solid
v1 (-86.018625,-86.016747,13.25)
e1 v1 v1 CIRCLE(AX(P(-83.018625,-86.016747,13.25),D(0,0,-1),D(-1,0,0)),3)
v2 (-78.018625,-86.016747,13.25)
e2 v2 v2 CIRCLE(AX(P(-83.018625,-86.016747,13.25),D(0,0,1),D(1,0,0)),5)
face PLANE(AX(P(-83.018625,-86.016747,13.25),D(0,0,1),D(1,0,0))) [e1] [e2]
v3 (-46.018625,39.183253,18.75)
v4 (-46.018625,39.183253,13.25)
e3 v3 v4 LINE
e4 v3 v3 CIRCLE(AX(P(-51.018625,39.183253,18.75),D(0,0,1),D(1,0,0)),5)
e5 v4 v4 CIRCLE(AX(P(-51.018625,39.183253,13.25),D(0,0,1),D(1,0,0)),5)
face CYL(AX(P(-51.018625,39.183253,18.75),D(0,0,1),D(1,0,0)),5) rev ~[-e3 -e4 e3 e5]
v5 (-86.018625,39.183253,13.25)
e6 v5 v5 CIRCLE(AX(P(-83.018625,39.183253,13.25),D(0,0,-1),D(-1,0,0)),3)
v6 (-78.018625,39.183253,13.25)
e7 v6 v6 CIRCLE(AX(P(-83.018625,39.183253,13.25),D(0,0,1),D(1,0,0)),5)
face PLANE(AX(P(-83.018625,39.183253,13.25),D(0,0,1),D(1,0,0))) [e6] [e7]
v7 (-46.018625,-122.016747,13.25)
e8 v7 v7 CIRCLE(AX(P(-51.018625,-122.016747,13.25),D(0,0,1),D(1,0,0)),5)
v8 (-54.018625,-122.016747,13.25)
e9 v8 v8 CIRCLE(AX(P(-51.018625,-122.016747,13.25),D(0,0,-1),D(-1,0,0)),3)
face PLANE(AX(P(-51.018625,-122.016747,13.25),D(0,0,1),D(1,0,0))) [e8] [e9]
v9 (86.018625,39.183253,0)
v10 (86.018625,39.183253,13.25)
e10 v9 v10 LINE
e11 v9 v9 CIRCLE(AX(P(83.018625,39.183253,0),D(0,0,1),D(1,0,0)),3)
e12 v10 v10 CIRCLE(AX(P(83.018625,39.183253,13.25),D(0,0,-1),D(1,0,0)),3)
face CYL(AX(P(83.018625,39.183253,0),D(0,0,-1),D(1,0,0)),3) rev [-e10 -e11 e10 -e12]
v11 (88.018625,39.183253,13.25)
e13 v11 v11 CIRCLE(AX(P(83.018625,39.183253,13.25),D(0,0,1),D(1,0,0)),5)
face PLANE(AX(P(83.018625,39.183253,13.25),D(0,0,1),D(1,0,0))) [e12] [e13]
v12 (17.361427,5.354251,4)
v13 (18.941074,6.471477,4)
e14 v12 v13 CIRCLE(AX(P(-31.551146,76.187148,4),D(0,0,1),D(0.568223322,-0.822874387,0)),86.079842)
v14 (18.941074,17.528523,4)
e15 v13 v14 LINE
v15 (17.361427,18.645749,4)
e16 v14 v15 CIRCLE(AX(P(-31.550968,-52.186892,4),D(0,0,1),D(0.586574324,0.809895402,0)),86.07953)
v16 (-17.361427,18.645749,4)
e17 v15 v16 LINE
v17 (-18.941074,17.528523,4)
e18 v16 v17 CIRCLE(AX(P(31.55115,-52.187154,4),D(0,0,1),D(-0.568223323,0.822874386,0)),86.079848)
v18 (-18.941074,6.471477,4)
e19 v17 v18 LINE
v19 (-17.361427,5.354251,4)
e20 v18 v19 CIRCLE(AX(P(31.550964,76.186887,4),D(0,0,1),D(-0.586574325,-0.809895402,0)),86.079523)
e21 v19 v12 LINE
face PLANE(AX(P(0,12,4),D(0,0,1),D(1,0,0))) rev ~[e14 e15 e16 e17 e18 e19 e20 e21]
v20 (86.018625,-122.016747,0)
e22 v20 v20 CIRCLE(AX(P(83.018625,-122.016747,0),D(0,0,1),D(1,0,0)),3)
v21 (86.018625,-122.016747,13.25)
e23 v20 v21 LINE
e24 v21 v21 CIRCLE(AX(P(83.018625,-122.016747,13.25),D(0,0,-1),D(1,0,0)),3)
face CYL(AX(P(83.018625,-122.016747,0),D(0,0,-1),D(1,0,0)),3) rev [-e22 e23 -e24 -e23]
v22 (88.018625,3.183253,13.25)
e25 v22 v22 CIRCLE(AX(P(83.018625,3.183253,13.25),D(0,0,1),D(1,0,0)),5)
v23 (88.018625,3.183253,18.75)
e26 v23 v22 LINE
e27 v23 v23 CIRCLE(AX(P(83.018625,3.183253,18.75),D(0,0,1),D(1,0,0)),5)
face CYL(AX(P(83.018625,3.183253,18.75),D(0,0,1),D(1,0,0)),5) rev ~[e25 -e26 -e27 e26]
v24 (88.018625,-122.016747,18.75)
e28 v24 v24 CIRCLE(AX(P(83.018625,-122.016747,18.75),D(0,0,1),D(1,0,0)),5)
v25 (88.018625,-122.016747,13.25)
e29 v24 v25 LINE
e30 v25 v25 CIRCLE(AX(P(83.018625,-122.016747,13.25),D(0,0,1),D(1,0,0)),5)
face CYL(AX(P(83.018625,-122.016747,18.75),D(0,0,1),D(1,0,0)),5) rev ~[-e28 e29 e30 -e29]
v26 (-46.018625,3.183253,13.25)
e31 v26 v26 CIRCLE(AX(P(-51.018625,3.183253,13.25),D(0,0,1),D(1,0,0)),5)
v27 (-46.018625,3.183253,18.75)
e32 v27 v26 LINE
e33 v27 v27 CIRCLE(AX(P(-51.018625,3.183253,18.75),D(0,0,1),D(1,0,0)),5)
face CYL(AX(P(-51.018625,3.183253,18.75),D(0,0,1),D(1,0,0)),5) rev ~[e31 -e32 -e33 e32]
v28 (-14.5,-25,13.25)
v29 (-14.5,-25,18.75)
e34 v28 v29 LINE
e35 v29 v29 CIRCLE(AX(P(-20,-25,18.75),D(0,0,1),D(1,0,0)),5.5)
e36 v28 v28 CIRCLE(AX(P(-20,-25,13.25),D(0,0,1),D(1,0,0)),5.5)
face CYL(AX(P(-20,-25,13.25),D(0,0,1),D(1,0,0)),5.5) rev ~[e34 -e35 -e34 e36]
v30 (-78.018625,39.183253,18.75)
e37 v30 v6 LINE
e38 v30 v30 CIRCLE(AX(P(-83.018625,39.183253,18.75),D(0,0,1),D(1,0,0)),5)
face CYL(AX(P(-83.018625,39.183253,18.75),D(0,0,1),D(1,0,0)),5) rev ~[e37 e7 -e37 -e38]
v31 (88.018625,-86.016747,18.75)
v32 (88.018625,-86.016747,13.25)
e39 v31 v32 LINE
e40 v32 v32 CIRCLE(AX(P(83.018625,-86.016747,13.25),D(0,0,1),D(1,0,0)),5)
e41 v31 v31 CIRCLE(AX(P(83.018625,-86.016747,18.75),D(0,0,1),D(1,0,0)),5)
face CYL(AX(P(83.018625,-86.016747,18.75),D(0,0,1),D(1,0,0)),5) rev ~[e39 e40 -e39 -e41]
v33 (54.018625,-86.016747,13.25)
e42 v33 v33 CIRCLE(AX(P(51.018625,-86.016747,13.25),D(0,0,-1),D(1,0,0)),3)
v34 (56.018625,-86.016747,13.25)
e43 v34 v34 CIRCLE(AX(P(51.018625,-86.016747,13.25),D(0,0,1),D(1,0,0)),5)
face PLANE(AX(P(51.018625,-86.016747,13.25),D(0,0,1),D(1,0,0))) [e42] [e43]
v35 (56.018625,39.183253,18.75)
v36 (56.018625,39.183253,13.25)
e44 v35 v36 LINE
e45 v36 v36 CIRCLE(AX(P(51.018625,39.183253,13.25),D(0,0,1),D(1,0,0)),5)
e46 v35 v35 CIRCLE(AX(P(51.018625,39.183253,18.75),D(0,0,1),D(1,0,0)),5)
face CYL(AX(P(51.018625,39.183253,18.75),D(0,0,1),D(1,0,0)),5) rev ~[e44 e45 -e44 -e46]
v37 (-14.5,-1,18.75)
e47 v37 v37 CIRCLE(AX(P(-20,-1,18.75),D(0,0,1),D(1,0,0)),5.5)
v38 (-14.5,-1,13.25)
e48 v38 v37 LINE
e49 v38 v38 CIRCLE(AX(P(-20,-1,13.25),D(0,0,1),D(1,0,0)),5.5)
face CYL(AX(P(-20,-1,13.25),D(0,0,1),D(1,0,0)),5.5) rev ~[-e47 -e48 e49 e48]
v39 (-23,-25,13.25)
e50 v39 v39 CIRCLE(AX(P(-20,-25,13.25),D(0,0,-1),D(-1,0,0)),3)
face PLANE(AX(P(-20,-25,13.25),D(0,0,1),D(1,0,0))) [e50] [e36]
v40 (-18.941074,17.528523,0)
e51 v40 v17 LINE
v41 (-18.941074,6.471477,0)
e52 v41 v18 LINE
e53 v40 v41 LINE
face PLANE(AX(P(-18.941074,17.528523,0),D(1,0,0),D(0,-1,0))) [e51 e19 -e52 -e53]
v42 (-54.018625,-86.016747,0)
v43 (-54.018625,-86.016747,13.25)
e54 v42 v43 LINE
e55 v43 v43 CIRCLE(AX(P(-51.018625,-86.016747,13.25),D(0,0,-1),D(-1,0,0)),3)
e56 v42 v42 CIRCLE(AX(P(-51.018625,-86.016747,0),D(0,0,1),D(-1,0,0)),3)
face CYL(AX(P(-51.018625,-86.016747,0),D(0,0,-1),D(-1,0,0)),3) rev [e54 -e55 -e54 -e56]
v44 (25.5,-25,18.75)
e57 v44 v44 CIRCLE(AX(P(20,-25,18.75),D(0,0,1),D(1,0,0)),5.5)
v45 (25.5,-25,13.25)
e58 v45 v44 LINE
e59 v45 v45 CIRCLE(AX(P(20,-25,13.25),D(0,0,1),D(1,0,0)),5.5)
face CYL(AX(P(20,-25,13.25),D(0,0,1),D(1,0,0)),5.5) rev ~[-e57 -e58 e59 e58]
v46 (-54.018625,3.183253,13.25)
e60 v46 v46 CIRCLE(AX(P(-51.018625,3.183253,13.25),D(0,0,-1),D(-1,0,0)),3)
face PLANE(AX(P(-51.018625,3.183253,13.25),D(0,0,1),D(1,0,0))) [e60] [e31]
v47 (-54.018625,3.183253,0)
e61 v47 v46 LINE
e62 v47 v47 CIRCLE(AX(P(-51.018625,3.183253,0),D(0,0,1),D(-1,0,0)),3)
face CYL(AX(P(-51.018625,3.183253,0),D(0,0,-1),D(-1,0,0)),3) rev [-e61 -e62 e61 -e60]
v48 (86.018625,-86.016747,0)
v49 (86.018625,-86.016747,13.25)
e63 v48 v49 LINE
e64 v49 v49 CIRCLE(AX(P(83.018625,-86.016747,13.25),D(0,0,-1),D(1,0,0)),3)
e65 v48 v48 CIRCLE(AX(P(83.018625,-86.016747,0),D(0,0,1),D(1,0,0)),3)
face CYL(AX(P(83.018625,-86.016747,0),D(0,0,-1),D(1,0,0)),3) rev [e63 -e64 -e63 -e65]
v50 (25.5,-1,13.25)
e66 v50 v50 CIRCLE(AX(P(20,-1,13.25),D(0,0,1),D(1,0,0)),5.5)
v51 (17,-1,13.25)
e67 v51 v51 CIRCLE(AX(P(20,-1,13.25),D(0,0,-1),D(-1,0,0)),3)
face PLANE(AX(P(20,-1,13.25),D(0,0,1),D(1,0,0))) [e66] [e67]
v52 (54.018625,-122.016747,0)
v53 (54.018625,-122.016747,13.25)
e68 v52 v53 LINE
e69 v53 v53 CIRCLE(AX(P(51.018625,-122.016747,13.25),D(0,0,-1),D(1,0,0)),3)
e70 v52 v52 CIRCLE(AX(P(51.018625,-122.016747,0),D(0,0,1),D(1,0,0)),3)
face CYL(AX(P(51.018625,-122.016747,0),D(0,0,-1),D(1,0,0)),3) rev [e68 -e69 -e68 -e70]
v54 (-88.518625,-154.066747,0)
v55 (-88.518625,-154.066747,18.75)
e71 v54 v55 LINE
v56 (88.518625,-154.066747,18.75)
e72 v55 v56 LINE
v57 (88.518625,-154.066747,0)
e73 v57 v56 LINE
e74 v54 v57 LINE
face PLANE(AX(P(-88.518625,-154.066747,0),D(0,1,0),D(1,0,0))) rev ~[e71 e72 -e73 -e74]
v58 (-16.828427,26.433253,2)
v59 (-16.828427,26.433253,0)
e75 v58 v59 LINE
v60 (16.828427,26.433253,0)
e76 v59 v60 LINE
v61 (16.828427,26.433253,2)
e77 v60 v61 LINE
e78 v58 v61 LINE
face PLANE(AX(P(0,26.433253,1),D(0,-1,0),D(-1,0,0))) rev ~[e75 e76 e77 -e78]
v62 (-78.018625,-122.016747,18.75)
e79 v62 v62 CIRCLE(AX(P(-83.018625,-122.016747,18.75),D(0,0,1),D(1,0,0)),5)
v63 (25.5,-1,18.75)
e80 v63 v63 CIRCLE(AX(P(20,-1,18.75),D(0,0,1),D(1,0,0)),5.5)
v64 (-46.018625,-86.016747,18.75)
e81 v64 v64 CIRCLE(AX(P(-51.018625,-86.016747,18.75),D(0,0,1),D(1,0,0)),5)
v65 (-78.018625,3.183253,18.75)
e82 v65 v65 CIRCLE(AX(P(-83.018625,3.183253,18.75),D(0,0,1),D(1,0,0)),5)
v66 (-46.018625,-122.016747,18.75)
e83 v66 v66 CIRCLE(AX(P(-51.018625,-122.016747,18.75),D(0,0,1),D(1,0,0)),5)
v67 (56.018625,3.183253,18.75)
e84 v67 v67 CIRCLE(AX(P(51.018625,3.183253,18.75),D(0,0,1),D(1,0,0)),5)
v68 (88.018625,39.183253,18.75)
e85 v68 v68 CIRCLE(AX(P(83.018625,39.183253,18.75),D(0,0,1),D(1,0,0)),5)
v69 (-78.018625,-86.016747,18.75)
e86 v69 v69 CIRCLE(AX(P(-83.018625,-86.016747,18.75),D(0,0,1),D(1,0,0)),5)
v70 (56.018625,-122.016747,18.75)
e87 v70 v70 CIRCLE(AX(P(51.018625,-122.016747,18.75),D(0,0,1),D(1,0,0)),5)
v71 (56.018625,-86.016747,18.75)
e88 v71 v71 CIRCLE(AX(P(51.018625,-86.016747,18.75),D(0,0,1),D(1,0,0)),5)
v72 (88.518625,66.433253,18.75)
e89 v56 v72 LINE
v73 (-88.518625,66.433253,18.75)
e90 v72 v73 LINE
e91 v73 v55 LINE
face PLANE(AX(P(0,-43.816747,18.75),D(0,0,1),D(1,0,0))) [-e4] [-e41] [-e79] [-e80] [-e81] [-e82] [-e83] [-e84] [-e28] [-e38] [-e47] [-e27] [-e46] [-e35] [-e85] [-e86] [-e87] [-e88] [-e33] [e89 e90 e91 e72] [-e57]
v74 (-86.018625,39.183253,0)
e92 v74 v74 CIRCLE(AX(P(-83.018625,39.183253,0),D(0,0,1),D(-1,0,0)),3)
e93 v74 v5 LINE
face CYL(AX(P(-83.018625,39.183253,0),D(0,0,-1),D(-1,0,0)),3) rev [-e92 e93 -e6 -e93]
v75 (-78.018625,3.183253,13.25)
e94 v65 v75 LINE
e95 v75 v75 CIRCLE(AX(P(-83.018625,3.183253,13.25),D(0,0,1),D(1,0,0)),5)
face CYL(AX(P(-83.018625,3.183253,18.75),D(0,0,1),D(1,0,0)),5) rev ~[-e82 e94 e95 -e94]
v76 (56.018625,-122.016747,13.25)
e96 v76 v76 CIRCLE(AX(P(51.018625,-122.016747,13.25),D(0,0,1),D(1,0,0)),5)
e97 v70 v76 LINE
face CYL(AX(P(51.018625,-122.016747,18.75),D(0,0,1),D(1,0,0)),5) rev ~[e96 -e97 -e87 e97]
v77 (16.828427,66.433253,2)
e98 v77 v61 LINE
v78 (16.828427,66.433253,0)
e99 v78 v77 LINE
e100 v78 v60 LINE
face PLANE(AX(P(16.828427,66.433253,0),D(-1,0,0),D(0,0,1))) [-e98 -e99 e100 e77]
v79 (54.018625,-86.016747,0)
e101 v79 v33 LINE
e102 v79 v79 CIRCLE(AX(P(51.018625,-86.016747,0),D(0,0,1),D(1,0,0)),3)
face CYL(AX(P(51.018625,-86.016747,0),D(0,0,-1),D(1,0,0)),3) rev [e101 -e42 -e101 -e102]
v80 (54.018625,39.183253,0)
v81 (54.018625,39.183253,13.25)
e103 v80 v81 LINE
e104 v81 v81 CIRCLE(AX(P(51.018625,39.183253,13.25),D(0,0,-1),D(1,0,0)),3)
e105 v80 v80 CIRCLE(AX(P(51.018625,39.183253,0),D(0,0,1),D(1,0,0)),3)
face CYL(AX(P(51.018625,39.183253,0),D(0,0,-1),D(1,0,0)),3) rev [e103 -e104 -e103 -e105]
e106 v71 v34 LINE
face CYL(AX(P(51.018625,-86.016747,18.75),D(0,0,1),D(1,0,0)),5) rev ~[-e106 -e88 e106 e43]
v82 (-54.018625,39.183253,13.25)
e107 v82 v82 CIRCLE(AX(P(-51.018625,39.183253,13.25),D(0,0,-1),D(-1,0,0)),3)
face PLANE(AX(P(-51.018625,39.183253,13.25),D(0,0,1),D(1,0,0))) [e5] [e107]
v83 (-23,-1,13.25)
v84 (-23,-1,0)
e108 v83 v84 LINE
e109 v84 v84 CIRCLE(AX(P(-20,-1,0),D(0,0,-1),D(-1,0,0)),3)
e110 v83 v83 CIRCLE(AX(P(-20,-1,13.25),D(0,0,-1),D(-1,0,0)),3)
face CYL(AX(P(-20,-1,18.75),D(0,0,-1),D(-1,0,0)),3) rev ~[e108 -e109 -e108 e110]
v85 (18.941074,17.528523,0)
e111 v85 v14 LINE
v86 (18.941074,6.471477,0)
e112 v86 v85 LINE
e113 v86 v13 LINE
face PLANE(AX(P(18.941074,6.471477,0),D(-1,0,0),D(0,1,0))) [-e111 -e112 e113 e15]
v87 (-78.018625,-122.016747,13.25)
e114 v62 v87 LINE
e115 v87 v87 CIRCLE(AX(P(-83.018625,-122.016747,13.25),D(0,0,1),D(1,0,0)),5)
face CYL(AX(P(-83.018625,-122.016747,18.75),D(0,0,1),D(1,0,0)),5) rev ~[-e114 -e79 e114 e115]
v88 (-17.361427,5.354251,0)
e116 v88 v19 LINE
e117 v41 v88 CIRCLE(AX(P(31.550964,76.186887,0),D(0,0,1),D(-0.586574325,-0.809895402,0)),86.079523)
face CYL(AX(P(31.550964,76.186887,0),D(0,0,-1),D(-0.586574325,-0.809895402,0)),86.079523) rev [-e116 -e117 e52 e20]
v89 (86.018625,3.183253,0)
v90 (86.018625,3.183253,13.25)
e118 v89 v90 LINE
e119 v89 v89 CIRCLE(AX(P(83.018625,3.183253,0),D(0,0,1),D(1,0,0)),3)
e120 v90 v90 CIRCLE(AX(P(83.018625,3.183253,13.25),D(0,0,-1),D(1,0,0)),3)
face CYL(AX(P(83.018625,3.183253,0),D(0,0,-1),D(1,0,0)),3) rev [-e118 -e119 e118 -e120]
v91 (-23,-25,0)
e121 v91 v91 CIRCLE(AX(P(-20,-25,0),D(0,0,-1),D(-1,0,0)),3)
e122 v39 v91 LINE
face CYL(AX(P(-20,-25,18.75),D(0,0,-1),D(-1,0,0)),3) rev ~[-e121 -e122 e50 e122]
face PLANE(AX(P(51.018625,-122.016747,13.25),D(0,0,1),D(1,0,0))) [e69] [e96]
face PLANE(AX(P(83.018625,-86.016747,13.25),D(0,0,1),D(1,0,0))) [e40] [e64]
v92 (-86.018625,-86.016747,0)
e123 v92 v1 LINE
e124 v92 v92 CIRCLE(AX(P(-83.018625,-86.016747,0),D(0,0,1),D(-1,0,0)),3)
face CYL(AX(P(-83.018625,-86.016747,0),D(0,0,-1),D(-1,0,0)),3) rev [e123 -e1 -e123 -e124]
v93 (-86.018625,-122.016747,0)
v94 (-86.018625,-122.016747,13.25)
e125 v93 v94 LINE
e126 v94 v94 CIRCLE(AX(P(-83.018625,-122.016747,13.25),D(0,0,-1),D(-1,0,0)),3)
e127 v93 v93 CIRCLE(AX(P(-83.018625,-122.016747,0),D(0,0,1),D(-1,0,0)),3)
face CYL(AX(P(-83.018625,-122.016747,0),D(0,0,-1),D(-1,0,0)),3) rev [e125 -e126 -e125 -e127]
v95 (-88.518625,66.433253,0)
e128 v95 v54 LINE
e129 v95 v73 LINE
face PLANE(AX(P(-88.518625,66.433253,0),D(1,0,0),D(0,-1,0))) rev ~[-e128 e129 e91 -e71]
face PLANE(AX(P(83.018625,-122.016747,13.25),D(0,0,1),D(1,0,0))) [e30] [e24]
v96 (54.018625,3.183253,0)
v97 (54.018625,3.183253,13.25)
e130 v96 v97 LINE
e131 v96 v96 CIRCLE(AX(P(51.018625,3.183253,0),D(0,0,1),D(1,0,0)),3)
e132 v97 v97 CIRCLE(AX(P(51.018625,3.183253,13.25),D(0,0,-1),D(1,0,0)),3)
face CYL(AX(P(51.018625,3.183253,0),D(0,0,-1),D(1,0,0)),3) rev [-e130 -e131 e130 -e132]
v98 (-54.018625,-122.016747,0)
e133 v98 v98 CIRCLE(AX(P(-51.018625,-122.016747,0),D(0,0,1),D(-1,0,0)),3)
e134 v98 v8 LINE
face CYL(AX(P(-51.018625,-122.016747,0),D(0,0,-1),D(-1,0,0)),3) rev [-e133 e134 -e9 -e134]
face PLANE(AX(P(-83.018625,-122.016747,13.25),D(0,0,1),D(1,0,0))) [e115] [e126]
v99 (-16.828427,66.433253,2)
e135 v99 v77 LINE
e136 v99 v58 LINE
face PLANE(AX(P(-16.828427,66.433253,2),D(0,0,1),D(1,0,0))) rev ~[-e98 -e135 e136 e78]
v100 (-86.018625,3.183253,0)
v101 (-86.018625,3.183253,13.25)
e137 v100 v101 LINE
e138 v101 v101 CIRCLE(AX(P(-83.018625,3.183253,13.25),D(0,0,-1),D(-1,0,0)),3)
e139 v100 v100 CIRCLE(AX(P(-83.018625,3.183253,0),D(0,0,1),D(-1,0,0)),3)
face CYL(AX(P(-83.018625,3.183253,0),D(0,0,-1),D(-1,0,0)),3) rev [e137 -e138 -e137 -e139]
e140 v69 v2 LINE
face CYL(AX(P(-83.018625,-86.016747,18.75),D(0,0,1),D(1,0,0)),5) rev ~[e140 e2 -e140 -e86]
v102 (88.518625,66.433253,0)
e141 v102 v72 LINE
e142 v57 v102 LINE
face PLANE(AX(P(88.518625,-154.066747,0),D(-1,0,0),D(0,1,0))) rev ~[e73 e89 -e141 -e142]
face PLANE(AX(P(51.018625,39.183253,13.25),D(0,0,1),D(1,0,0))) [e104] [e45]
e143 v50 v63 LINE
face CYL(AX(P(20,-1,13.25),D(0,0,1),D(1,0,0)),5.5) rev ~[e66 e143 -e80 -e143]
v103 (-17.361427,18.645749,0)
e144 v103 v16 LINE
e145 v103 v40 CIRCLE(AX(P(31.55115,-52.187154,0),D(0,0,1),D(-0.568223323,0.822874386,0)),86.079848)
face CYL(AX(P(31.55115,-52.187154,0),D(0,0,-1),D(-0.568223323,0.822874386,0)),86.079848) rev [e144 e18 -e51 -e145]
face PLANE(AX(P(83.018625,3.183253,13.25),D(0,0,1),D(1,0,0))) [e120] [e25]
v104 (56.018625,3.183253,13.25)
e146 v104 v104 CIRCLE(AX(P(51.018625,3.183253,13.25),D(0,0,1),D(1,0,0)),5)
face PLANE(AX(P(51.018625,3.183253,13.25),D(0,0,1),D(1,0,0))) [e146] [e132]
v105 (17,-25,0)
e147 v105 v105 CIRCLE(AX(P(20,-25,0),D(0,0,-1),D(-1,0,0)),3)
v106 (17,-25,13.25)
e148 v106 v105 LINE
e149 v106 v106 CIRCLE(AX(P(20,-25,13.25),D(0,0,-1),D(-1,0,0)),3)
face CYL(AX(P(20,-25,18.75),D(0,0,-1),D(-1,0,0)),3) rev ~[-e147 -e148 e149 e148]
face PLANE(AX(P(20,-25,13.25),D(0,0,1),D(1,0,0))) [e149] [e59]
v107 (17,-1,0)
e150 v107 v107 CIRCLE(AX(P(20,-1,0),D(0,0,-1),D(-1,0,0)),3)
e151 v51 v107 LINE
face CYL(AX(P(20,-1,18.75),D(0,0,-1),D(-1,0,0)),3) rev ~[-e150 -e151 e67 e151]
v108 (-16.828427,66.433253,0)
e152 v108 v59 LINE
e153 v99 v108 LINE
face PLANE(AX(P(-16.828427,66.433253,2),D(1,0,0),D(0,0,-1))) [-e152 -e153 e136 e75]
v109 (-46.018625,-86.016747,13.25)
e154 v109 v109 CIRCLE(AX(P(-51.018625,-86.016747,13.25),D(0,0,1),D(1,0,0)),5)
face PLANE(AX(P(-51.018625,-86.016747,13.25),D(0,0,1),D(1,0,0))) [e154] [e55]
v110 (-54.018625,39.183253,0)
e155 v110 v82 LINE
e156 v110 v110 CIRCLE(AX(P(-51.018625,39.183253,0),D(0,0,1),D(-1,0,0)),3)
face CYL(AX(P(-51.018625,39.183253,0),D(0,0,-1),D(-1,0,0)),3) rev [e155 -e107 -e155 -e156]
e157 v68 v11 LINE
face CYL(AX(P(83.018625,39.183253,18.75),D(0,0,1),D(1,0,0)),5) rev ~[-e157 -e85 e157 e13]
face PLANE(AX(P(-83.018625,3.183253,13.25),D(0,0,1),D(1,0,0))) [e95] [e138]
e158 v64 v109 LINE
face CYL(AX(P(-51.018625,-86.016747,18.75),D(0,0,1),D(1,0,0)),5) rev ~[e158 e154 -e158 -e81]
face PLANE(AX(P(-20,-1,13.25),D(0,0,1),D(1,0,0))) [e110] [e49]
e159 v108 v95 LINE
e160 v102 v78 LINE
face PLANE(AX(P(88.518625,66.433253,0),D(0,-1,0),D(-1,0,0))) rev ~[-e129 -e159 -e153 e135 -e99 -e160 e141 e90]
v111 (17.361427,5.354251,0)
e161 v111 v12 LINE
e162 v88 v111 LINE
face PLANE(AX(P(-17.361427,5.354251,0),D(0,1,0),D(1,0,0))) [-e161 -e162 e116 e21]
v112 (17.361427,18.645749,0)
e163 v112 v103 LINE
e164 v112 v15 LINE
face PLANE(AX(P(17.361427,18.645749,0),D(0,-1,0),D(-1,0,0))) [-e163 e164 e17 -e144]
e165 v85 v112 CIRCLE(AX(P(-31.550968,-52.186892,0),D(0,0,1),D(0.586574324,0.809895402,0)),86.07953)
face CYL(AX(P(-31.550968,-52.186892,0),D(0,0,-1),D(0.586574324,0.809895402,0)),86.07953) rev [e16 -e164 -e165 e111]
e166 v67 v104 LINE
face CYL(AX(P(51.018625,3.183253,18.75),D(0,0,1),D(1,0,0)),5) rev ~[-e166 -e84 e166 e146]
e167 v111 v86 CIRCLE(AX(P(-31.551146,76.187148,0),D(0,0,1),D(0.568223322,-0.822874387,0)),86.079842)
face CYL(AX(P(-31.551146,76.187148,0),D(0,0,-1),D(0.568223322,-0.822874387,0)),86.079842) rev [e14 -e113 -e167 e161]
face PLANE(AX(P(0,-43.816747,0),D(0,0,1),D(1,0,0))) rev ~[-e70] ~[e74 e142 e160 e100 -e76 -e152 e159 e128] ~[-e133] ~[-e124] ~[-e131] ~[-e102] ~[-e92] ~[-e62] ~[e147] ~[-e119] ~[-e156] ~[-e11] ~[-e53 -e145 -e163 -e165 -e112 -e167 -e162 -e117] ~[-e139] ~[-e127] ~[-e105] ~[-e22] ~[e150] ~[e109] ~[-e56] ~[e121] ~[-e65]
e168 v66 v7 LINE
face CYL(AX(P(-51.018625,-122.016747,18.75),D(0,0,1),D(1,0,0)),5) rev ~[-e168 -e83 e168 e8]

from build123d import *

# Parameters (mm, degrees)
SKETCH1_R                               = 3
BOSS_EXTRUDE1_DEPTH                     = 18.75
SKETCH2_R                               = 5
CUT_EXTRUDE3_DEPTH                      = 5.5
CBORE_FOR_M5_HEX_HEAD_BOLT1_D           = 6
CBORE_FOR_M5_HEX_HEAD_BOLT1_CBORE_D     = 11
CBORE_FOR_M5_HEX_HEAD_BOLT1_CBORE_DEPTH = 5.5
CUT_EXTRUDE4_DEPTH                      = 40
CUT_EXTRUDE5_DEPTH                      = 4


with BuildPart() as part:
    # Sketch1 → Boss-Extrude1 (new body)
    with BuildSketch(Plane.XY):
        Polygon((88.518625365, 66.433253323), (-88.518625365, 66.433253323), (-88.518625365, 46.433253323), (-88.518625365, -4.066746677), (-88.518625365, -154.066746677), (88.518625365, -154.066746677), (88.518625365, -4.066746677), (88.518625365, 46.433253323), align=None)
        with Locations((83.018625365, 39.183253323)):
            Circle(SKETCH1_R, mode=Mode.SUBTRACT)
        with Locations((51.018625365, 39.183253323)):
            Circle(SKETCH1_R, mode=Mode.SUBTRACT)
        with Locations((83.018625365, 3.183253323)):
            Circle(SKETCH1_R, mode=Mode.SUBTRACT)
        with Locations((51.018625365, 3.183253323)):
            Circle(SKETCH1_R, mode=Mode.SUBTRACT)
        with Locations((83.018625365, -86.016746677)):
            Circle(SKETCH1_R, mode=Mode.SUBTRACT)
        with Locations((51.018625365, -86.016746677)):
            Circle(SKETCH1_R, mode=Mode.SUBTRACT)
        with Locations((51.018625365, -122.016746677)):
            Circle(SKETCH1_R, mode=Mode.SUBTRACT)
        with Locations((83.018625365, -122.016746677)):
            Circle(SKETCH1_R, mode=Mode.SUBTRACT)
        with Locations(Location((-83.018625365, -122.016746677, 0), (0, 0, 180))):
            Circle(SKETCH1_R, mode=Mode.SUBTRACT)
        with Locations(Location((-51.018625365, -122.016746677, 0), (0, 0, 180))):
            Circle(SKETCH1_R, mode=Mode.SUBTRACT)
        with Locations(Location((-51.018625365, -86.016746677, 0), (0, 0, 180))):
            Circle(SKETCH1_R, mode=Mode.SUBTRACT)
        with Locations(Location((-83.018625365, -86.016746677, 0), (0, 0, 180))):
            Circle(SKETCH1_R, mode=Mode.SUBTRACT)
        with Locations(Location((-51.018625365, 3.183253323, 0), (0, 0, 180))):
            Circle(SKETCH1_R, mode=Mode.SUBTRACT)
        with Locations(Location((-83.018625365, 3.183253323, 0), (0, 0, 180))):
            Circle(SKETCH1_R, mode=Mode.SUBTRACT)
        with Locations(Location((-51.018625365, 39.183253323, 0), (0, 0, 180))):
            Circle(SKETCH1_R, mode=Mode.SUBTRACT)
        with Locations(Location((-83.018625365, 39.183253323, 0), (0, 0, 180))):
            Circle(SKETCH1_R, mode=Mode.SUBTRACT)
    extrude(amount=BOSS_EXTRUDE1_DEPTH)

    # Sketch2 → Cut-Extrude3 (cut)
    with BuildSketch(Plane.XY.offset(18.75)):
        with Locations((-51.018625365, 39.183253323)):
            Circle(SKETCH2_R)
        with Locations((-83.018625365, 39.183253323)):
            Circle(SKETCH2_R)
        with Locations((-83.018625365, 3.183253323)):
            Circle(SKETCH2_R)
        with Locations((51.018625365, 39.183253323)):
            Circle(SKETCH2_R)
        with Locations((83.018625365, 39.183253323)):
            Circle(SKETCH2_R)
        with Locations((83.018625365, 3.183253323)):
            Circle(SKETCH2_R)
        with Locations((51.018625365, 3.183253323)):
            Circle(SKETCH2_R)
        with Locations((-51.018625365, 3.183253323)):
            Circle(SKETCH2_R)
        with Locations((-83.018625365, -86.016746677)):
            Circle(SKETCH2_R)
        with Locations((-51.018625365, -86.016746677)):
            Circle(SKETCH2_R)
        with Locations((-51.018625365, -122.016746677)):
            Circle(SKETCH2_R)
        with Locations((-83.018625365, -122.016746677)):
            Circle(SKETCH2_R)
        with Locations((51.018625365, -122.016746677)):
            Circle(SKETCH2_R)
        with Locations((51.018625365, -86.016746677)):
            Circle(SKETCH2_R)
        with Locations((83.018625365, -86.016746677)):
            Circle(SKETCH2_R)
        with Locations((83.018625365, -122.016746677)):
            Circle(SKETCH2_R)
    extrude(amount=-CUT_EXTRUDE3_DEPTH, mode=Mode.SUBTRACT)

    # CBORE for M5 Hex Head Bolt1 (through all)
    with Locations(Plane.XY.offset(18.75)):
        with Locations((-20, -1), (20, -1), (-20, -25), (20, -25)):
            CounterBoreHole(CBORE_FOR_M5_HEX_HEAD_BOLT1_D / 2, CBORE_FOR_M5_HEX_HEAD_BOLT1_CBORE_D / 2, CBORE_FOR_M5_HEX_HEAD_BOLT1_CBORE_DEPTH)

    # Sketch7 → Cut-Extrude4 (cut)
    with BuildSketch(Plane(origin=(0, 66.433253323, 0), x_dir=(1, 0, 0), z_dir=(0, 1, 0))):
        Polygon((-14.828427125, -2), (-16.828427125, -2), (-16.828427125, 0), (16.828427125, 0), (16.828427125, -2), (14.828427125, -2), align=None)
    extrude(amount=-CUT_EXTRUDE4_DEPTH, mode=Mode.SUBTRACT)

    # Sketch8 → Cut-Extrude5 (cut)
    with BuildSketch(Plane(origin=(0, 0, 0), x_dir=(-1, 0, 0), z_dir=(0, 0, -1))):
        with BuildLine():
            Line((18.941074346, 17.528523034), (18.941074346, 6.471477064))
            ThreePointArc((18.941074346, 6.471477064), (18.154389929, 5.908425795), (17.361427351, 5.354251227))
            Line((17.361427351, 5.354251227), (-17.361427384, 5.354251227))
            ThreePointArc((-17.361427384, 5.354251227), (-18.154389934, 5.908425774), (-18.941074346, 6.471476988))
            Line((-18.941074346, 6.471476988), (-18.941074346, 17.528522958))
            ThreePointArc((-18.941074346, 17.528522958), (-18.154389929, 18.091574227), (-17.361427351, 18.645748796))
            Line((-17.361427351, 18.645748796), (17.361427384, 18.645748796))
            ThreePointArc((17.361427384, 18.645748796), (18.154389934, 18.091574248), (18.941074346, 17.528523034))
        make_face()
    extrude(amount=-CUT_EXTRUDE5_DEPTH, mode=Mode.SUBTRACT)


solid = part.part
